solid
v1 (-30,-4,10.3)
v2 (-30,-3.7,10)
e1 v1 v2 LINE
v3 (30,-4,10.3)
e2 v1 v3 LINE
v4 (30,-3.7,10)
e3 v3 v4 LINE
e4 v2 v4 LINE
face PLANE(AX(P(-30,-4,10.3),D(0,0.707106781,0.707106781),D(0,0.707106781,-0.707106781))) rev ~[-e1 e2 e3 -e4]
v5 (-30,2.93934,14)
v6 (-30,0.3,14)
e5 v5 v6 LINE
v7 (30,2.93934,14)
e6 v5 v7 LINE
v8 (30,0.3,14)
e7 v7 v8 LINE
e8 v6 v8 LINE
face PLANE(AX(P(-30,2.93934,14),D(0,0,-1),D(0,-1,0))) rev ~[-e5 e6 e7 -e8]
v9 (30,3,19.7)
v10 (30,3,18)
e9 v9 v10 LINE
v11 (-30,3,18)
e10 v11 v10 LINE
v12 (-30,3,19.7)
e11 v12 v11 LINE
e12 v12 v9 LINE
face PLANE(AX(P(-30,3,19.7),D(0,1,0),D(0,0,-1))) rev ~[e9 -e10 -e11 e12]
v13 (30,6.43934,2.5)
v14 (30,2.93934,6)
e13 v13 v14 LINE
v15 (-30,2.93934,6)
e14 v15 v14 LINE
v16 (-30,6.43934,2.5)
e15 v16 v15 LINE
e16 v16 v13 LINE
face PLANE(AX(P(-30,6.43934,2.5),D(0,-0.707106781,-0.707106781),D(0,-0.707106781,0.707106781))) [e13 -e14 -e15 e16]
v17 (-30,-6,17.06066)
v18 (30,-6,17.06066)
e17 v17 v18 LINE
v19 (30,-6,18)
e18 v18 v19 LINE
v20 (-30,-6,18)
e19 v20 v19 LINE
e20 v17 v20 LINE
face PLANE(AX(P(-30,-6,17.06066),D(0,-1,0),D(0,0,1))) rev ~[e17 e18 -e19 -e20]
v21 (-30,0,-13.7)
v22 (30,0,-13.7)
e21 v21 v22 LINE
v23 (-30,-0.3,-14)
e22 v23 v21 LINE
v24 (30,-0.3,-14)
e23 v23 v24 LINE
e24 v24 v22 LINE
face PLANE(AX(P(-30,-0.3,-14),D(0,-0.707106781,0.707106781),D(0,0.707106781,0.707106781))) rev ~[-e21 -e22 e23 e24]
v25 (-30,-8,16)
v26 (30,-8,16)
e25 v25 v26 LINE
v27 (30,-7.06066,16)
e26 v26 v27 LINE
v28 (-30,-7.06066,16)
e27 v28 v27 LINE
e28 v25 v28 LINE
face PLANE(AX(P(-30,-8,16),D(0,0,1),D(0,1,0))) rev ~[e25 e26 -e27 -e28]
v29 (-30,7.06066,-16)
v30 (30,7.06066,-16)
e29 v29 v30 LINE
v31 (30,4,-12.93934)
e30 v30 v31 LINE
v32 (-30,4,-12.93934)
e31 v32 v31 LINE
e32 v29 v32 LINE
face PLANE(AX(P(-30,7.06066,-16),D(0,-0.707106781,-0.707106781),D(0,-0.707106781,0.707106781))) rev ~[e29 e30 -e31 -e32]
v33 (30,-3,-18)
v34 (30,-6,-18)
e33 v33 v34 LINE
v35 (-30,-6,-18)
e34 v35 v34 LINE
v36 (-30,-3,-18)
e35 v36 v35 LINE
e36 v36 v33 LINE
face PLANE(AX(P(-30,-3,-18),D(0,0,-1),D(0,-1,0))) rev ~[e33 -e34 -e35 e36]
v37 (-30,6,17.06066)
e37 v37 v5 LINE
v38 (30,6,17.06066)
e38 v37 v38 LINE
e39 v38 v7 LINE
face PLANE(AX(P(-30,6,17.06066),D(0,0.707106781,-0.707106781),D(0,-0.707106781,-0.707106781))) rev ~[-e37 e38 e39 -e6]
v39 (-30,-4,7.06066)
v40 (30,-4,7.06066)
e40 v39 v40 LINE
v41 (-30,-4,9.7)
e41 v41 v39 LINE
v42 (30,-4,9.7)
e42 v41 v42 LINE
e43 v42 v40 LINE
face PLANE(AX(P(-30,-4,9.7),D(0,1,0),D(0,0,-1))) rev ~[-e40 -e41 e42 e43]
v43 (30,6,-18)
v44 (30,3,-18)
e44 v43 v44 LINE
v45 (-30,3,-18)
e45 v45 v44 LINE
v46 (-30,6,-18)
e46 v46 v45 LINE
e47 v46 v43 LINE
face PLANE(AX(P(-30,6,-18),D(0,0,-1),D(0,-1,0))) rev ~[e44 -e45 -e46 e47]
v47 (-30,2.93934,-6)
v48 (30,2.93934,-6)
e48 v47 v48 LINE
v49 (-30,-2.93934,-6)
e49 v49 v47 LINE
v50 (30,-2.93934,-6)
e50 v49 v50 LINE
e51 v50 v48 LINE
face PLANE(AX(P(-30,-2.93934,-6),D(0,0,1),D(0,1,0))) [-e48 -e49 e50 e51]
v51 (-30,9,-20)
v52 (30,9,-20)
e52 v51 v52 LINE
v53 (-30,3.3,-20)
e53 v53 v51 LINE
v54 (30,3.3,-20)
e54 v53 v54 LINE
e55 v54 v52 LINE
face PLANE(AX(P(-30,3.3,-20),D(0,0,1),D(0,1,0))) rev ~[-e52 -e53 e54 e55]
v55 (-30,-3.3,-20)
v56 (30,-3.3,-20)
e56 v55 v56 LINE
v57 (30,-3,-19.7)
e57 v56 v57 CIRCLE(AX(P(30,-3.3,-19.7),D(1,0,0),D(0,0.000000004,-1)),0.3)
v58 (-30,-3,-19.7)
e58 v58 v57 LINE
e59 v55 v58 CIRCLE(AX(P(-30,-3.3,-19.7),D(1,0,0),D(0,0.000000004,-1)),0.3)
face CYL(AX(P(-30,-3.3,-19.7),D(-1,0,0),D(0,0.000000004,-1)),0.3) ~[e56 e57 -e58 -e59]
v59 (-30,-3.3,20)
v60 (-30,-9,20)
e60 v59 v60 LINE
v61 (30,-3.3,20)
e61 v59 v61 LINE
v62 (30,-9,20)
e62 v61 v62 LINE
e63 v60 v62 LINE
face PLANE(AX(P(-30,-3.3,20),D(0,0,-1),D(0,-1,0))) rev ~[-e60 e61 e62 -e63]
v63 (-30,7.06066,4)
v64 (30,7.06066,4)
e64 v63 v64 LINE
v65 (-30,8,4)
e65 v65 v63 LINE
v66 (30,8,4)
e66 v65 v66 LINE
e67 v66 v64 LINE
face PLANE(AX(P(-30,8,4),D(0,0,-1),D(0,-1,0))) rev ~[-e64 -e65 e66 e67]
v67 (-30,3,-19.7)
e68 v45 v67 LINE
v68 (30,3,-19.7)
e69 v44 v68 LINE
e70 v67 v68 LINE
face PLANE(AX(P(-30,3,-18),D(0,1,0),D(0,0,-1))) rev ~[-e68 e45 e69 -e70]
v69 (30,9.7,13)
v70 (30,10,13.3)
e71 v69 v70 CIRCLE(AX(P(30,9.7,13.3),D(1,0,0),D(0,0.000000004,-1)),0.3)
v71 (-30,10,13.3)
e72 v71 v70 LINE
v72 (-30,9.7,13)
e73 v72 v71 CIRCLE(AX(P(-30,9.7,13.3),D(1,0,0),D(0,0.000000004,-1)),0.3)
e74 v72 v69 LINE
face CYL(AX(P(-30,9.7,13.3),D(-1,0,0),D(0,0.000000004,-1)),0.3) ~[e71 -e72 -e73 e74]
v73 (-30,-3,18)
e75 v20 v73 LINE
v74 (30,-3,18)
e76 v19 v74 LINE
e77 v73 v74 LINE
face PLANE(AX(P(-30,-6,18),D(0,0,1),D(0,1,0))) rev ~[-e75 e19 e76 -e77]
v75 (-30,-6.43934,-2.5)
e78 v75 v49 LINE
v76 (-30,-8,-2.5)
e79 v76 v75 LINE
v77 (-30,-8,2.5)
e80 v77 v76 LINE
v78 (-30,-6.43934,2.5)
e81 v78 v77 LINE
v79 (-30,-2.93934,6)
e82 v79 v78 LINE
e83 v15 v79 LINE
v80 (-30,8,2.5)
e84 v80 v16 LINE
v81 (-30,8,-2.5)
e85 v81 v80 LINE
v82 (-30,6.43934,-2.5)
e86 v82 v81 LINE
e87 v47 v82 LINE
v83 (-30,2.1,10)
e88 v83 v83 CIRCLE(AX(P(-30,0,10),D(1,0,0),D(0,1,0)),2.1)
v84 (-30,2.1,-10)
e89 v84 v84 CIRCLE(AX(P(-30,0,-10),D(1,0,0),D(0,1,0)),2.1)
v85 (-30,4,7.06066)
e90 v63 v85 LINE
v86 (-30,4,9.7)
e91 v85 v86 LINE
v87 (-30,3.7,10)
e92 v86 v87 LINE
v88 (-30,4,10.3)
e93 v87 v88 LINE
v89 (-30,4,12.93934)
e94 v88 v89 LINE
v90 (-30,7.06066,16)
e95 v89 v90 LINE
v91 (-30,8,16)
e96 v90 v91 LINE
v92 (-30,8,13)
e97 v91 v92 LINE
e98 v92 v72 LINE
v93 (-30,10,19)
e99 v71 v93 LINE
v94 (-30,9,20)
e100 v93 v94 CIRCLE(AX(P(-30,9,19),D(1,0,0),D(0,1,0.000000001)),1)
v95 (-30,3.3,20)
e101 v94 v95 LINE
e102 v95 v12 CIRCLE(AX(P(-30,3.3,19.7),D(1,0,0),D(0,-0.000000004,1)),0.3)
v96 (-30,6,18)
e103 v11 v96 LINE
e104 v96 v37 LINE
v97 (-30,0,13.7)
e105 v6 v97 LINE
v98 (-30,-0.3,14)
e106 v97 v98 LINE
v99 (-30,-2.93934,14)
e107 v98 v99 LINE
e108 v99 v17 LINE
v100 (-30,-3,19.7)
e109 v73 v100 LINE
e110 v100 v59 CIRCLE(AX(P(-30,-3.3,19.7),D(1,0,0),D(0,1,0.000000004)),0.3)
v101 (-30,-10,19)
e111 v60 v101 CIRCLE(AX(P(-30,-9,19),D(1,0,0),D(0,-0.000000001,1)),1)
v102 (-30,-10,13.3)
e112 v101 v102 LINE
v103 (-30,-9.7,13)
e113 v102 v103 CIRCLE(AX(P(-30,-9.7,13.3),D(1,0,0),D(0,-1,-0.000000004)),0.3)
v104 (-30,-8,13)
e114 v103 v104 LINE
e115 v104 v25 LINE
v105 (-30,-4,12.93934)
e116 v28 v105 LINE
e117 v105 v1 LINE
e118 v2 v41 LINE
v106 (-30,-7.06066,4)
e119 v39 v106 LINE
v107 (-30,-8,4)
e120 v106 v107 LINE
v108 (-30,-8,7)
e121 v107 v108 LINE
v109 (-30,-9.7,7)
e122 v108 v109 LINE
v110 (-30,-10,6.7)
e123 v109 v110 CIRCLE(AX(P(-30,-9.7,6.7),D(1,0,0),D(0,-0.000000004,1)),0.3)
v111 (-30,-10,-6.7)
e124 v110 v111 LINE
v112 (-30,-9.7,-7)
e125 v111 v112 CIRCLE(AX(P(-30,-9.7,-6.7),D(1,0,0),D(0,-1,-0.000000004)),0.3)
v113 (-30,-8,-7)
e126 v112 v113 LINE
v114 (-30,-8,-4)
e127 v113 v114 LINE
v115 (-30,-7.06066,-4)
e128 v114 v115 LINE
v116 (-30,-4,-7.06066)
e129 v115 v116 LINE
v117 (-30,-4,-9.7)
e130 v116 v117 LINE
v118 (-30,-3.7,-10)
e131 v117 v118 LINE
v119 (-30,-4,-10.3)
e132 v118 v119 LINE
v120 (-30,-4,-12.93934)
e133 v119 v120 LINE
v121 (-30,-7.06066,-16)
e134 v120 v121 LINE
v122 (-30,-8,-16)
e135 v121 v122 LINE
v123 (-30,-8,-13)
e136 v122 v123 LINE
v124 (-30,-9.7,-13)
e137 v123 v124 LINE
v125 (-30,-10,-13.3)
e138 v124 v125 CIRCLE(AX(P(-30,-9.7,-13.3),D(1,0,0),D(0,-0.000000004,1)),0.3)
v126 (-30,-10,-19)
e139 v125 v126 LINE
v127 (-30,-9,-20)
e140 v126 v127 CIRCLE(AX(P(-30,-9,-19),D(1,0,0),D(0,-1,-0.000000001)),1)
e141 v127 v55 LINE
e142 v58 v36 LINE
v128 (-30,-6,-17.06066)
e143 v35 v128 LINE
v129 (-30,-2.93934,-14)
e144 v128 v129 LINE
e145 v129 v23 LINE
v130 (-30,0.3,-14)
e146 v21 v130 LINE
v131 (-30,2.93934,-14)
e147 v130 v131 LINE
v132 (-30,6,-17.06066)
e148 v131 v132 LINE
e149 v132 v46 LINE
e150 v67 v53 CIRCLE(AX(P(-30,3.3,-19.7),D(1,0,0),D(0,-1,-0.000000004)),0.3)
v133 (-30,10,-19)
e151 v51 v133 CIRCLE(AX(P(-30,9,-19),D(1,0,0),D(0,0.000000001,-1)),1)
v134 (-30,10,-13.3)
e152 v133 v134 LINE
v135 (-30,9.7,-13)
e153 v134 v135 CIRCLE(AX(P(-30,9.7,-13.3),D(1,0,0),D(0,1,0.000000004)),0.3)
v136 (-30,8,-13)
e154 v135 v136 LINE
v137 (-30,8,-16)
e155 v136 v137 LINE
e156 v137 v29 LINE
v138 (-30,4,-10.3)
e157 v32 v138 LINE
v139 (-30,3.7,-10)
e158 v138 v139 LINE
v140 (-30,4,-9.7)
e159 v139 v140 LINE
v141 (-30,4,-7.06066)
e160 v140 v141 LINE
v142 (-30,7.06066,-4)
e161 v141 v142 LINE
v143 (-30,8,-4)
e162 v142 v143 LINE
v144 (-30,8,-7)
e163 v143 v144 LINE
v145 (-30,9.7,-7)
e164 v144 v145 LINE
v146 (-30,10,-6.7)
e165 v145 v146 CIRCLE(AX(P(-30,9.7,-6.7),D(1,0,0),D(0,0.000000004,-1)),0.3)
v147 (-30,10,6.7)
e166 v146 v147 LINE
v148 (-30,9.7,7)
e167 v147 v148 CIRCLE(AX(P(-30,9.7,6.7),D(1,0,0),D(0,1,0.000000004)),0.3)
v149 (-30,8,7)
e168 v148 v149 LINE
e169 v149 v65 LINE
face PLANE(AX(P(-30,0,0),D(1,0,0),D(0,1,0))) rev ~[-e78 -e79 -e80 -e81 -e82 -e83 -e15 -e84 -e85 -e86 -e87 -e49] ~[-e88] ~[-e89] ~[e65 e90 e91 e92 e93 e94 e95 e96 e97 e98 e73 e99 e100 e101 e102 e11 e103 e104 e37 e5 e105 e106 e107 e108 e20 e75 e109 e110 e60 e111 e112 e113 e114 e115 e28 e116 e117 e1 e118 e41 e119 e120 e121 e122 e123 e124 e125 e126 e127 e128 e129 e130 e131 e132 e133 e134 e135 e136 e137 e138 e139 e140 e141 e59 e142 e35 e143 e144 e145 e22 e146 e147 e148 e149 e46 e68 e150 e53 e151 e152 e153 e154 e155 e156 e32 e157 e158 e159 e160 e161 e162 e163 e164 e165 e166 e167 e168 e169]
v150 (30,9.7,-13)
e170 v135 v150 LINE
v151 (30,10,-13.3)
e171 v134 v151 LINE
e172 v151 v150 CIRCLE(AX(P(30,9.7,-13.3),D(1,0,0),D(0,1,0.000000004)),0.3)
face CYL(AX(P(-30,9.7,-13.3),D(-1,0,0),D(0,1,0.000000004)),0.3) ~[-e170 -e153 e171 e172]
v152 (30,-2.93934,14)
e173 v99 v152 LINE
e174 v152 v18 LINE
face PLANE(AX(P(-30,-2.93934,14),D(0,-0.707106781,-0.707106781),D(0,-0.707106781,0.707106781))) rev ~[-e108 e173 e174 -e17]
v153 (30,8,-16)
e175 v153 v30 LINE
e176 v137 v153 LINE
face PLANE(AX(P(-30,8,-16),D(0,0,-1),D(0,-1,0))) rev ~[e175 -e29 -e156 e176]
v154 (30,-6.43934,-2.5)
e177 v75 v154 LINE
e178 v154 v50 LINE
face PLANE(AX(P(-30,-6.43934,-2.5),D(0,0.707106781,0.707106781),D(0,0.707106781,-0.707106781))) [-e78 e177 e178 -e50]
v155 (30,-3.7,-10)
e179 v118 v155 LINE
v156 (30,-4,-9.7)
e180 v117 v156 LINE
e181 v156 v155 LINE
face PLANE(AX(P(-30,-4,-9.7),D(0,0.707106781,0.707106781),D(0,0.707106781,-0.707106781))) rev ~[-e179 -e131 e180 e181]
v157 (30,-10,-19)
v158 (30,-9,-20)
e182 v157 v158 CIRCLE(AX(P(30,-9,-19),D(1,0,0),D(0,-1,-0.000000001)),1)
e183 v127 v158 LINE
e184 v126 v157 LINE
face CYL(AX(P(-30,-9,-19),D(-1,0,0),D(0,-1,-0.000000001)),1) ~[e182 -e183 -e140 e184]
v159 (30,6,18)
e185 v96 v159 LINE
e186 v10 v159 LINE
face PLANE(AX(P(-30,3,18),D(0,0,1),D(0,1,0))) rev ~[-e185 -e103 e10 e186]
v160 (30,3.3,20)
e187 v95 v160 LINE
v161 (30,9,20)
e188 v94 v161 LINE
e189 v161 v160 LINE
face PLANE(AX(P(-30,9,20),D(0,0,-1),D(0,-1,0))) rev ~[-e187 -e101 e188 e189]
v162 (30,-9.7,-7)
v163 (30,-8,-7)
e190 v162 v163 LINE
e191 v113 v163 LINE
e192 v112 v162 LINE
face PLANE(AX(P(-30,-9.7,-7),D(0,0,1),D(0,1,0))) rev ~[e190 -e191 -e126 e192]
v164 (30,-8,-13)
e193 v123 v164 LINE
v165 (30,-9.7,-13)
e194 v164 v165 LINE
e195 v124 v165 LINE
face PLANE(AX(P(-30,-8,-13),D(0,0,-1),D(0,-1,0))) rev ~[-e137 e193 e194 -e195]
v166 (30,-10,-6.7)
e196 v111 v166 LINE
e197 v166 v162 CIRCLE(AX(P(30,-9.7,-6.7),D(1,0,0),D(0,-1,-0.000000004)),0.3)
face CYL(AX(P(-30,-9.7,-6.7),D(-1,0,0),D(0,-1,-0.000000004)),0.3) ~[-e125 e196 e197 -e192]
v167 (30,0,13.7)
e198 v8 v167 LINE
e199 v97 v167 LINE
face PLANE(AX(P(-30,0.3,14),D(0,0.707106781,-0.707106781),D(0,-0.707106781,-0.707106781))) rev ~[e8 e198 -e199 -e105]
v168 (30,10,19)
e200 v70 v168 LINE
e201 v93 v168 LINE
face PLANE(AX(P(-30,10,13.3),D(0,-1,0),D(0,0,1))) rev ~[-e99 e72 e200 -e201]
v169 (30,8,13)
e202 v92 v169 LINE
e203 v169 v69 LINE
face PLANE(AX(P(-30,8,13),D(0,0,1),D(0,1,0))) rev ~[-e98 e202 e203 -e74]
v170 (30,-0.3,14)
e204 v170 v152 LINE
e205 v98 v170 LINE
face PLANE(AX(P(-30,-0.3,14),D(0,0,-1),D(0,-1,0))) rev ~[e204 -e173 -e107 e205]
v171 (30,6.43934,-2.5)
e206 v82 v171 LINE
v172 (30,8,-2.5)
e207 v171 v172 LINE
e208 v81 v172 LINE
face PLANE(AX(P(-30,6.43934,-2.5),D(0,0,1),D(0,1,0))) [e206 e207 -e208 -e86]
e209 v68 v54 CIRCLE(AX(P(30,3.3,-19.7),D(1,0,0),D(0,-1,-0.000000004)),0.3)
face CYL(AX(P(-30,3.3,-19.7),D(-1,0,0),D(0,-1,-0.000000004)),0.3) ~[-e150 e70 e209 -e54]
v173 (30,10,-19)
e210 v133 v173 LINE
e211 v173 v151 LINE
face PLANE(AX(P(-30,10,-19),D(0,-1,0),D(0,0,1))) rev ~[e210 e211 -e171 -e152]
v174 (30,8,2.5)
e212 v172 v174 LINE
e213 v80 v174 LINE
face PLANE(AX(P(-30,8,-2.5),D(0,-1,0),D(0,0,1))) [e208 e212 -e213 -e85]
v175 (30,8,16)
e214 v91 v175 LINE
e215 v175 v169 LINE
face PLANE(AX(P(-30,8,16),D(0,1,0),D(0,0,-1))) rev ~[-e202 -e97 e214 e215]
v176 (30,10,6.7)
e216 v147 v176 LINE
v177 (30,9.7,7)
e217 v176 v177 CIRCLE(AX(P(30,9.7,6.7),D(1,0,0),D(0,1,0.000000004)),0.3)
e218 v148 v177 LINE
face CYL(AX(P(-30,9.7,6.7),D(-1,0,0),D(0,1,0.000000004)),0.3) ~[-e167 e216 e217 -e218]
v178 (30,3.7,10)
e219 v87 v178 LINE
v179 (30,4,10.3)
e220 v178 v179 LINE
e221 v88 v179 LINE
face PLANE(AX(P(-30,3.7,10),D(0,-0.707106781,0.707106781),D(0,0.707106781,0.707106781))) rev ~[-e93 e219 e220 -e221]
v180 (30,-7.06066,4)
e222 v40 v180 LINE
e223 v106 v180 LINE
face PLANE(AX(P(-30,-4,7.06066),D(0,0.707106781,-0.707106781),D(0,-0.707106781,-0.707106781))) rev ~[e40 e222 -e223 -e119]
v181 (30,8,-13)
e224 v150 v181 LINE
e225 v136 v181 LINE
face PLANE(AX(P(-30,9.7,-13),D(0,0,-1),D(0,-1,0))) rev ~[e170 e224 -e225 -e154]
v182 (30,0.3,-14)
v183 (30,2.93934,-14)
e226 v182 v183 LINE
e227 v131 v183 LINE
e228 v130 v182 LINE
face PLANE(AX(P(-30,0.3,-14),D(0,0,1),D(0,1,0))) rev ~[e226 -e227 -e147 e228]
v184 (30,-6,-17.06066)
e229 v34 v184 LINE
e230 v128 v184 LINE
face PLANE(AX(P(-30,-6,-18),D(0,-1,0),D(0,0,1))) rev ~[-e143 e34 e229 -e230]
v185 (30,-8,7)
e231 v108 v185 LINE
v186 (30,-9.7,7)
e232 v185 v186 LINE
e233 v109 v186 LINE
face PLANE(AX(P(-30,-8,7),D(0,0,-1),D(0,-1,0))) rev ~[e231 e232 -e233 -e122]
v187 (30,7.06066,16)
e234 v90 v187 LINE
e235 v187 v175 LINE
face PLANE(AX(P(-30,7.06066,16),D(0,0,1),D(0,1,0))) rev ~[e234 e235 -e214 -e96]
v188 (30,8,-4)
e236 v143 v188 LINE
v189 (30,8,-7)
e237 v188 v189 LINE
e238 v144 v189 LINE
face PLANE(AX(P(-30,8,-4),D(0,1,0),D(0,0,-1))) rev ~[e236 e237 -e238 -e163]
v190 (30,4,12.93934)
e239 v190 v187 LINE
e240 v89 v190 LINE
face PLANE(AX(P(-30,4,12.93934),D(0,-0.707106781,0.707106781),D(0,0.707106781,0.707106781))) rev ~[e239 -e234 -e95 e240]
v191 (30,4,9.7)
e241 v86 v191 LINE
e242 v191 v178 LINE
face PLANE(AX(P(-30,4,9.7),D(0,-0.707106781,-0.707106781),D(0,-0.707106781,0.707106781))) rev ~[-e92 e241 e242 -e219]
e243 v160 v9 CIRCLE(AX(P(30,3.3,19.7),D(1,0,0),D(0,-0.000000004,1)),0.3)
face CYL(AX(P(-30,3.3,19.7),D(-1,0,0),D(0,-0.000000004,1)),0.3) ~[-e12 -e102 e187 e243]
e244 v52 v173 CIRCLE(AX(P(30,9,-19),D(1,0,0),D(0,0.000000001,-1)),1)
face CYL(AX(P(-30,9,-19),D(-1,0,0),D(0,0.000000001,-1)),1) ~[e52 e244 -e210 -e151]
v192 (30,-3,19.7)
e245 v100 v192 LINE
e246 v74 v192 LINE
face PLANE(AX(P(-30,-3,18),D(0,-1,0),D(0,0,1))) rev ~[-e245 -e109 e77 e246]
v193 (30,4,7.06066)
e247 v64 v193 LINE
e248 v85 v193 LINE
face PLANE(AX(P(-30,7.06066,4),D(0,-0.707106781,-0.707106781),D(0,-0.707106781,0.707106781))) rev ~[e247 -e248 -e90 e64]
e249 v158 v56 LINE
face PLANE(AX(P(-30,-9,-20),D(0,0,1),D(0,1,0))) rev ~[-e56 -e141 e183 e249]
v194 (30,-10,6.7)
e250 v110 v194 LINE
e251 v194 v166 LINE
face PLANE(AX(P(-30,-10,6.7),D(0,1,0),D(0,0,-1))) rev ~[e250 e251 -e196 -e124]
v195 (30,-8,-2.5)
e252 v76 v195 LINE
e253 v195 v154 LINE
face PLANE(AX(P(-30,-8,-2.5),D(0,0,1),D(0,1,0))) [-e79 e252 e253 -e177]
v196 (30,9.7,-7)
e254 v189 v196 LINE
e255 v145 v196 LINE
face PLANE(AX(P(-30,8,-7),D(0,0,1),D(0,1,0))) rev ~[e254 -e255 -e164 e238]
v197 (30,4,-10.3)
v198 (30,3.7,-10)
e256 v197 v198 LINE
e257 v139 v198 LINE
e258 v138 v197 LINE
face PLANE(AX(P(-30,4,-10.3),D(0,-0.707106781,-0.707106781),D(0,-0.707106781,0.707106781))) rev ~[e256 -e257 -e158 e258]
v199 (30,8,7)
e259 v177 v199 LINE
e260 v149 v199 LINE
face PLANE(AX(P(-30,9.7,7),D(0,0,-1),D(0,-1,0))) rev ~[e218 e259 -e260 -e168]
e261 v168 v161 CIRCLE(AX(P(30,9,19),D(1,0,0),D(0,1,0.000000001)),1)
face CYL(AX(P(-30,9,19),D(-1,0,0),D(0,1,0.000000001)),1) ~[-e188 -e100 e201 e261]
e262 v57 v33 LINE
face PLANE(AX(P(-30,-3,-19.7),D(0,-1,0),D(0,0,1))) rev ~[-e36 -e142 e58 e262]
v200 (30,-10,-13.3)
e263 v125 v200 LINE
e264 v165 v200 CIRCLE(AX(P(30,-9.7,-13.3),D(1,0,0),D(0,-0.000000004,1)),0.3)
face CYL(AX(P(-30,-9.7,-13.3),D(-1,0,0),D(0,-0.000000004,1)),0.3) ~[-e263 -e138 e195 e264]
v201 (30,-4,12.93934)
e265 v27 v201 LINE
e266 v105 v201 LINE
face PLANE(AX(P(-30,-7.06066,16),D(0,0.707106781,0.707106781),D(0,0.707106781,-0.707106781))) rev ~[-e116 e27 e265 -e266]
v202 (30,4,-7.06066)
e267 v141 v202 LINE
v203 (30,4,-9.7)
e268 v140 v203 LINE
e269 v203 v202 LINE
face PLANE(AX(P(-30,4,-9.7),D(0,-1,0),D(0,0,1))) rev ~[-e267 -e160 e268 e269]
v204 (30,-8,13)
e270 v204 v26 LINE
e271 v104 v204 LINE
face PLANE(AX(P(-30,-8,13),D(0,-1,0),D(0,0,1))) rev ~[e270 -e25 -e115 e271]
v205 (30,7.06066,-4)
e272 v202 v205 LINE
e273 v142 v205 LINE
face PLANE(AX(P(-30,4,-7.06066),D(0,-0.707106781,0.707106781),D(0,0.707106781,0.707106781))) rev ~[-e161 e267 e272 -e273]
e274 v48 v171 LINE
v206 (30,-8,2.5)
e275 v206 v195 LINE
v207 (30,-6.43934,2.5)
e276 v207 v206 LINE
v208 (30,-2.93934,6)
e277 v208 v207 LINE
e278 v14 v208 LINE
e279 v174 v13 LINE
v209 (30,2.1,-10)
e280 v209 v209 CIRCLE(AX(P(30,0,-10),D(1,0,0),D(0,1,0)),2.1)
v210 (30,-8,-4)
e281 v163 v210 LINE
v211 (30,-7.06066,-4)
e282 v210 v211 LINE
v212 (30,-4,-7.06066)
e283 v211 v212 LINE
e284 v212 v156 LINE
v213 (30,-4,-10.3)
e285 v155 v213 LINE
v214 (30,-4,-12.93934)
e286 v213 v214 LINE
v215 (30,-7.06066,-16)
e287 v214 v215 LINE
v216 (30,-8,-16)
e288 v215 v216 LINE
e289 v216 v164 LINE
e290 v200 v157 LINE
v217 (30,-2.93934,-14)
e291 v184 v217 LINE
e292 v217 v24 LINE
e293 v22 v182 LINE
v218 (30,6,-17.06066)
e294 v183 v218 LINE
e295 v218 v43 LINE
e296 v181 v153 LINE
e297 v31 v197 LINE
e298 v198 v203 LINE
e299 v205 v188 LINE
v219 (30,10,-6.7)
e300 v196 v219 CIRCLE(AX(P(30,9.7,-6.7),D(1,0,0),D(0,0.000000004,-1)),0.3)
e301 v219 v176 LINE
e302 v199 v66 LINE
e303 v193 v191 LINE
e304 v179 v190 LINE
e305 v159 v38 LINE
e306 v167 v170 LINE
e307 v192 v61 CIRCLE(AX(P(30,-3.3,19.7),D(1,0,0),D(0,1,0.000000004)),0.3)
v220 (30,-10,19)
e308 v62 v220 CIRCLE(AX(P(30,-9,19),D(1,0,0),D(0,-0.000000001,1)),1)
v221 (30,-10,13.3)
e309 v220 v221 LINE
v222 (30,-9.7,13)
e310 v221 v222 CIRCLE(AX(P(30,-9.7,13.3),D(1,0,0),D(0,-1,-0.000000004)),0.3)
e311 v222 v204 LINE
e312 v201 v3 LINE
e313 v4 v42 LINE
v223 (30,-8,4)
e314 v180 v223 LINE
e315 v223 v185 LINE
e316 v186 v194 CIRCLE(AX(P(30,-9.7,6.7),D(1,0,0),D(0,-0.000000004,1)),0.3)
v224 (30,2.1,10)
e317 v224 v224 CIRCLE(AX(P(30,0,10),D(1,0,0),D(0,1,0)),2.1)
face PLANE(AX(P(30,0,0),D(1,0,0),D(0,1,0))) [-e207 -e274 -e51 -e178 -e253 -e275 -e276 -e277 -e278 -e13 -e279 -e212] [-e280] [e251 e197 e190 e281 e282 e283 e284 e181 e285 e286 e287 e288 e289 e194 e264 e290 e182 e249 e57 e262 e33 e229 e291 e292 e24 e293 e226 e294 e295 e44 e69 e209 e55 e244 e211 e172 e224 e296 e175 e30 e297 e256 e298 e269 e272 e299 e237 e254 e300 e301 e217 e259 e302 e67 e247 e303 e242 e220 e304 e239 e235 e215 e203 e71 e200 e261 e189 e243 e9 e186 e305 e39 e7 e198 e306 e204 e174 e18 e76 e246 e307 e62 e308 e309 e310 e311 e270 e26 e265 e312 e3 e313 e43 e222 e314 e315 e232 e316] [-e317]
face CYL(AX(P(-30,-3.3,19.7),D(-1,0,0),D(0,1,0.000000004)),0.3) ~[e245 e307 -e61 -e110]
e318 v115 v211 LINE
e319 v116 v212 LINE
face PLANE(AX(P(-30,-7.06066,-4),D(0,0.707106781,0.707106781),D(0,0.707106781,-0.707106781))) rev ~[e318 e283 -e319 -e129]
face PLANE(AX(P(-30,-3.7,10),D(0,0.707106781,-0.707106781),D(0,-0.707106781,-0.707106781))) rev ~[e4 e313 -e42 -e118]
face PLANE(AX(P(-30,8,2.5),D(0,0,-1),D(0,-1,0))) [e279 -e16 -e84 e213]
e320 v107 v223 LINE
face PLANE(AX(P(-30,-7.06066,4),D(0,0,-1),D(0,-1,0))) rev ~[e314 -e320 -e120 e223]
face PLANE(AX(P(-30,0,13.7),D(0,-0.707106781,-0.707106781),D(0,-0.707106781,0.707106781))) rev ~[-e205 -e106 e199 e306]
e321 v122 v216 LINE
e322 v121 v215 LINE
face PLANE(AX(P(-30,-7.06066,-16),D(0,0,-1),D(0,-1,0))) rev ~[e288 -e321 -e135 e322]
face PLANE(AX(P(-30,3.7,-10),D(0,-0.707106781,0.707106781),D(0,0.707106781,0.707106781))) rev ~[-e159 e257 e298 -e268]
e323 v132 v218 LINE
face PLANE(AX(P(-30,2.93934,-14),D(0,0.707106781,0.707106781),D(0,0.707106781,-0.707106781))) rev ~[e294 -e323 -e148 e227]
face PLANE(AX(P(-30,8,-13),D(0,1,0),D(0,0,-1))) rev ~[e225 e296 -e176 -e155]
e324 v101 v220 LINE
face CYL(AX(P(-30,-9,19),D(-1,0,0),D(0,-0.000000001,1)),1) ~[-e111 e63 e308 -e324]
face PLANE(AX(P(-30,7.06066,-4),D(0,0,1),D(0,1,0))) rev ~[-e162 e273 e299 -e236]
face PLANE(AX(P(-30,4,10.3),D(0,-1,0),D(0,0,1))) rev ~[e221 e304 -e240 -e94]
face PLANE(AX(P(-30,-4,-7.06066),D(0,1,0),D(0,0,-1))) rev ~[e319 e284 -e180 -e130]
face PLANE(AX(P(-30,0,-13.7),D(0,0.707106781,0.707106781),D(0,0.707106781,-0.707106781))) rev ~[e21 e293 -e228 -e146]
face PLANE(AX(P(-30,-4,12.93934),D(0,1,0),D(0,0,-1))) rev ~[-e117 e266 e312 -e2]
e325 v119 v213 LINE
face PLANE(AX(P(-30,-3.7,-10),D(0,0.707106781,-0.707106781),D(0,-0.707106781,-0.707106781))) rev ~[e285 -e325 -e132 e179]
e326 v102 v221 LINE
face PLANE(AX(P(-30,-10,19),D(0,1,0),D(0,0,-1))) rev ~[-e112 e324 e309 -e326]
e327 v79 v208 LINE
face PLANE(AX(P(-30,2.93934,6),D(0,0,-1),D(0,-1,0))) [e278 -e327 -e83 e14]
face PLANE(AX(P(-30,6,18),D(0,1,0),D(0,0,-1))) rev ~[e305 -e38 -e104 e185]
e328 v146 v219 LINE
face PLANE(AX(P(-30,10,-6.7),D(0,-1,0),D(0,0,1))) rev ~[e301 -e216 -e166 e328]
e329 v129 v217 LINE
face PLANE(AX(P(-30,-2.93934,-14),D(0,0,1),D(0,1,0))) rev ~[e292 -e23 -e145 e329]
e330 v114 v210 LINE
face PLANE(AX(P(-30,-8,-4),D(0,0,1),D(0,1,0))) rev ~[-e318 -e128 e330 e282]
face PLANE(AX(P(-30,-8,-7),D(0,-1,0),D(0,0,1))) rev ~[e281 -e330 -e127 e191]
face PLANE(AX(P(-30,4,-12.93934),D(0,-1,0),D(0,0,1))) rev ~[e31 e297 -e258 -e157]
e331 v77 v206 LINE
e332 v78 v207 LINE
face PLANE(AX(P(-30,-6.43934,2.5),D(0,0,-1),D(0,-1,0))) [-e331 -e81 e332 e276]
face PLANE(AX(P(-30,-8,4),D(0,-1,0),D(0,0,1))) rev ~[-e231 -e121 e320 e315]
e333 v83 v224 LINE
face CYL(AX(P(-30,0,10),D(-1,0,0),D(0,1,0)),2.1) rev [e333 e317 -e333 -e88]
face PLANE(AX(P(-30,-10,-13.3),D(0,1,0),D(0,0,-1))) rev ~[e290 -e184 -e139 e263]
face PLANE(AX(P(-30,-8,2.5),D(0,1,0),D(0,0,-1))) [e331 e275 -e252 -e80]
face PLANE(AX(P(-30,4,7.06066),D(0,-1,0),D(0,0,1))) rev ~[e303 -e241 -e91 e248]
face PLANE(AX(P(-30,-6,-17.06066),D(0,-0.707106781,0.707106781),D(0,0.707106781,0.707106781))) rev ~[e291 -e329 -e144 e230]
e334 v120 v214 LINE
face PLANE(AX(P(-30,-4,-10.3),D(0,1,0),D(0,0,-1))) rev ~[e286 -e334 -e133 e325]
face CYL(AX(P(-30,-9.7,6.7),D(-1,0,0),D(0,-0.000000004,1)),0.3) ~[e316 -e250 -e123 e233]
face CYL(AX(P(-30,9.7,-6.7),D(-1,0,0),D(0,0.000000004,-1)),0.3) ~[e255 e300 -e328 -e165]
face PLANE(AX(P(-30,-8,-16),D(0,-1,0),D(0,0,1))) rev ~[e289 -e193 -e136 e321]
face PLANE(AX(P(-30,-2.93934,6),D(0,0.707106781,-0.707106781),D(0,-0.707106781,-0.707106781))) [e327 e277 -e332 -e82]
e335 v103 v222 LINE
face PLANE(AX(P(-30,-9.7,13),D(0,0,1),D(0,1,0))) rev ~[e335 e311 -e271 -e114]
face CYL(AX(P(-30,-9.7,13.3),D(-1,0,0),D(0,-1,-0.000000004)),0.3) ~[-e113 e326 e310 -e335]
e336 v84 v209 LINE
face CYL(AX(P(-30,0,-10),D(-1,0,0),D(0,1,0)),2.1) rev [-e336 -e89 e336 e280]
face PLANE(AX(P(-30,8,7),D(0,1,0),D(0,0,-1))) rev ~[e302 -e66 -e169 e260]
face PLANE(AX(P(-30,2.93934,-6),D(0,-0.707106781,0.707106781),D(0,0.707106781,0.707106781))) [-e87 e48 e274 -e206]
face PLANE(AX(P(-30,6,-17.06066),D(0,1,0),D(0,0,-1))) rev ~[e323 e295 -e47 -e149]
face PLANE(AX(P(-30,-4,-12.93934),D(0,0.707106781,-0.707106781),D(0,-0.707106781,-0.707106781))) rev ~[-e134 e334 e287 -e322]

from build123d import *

# Parameters (mm, degrees)
SKETCH11_R               = 2.1
STRUCTURAL_MEMBER1_DEPTH = 60


with BuildPart() as part:
    # Sketch11 → Structural Member1 (new body)
    with BuildSketch(Plane.YZ.offset(-30)):
        with BuildLine():
            Line((-9, -20), (-3.3, -20))
            ThreePointArc((-3.3, -20), (-3.087867966, -19.912132034), (-3, -19.7))
            Line((-3, -19.7), (-3, -18))
            Line((-3, -18), (-6, -18))
            Line((-6, -18), (-6, -17.060660172))
            Line((-6, -17.060660172), (-2.939339828, -14))
            Line((-2.939339828, -14), (-0.3, -14))
            Line((-0.3, -14), (0, -13.7))
            Line((0, -13.7), (0.3, -14))
            Line((0.3, -14), (2.939339828, -14))
            Line((2.939339828, -14), (6, -17.060660172))
            Line((6, -17.060660172), (6, -18))
            Line((6, -18), (3, -18))
            Line((3, -18), (3, -19.7))
            ThreePointArc((3, -19.7), (3.087867966, -19.912132034), (3.3, -20))
            Line((3.3, -20), (9, -20))
            ThreePointArc((9, -20), (9.707106781, -19.707106781), (10, -19))
            Line((10, -19), (10, -13.3))
            ThreePointArc((10, -13.3), (9.912132034, -13.087867966), (9.7, -13))
            Line((9.7, -13), (8, -13))
            Line((8, -13), (8, -16))
            Line((8, -16), (7.060660172, -16))
            Line((7.060660172, -16), (4, -12.939339828))
            Line((4, -12.939339828), (4, -10.3))
            Line((4, -10.3), (3.7, -10))
            Line((3.7, -10), (4, -9.7))
            Line((4, -9.7), (4, -7.060660172))
            Line((4, -7.060660172), (7.060660172, -4))
            Line((7.060660172, -4), (8, -4))
            Line((8, -4), (8, -7))
            Line((8, -7), (9.7, -7))
            ThreePointArc((9.7, -7), (9.912132034, -6.912132034), (10, -6.7))
            Line((10, -6.7), (10, 6.7))
            ThreePointArc((10, 6.7), (9.912132034, 6.912132034), (9.7, 7))
            Line((9.7, 7), (8, 7))
            Line((8, 7), (8, 4))
            Line((8, 4), (7.060660172, 4))
            Line((7.060660172, 4), (4, 7.060660172))
            Line((4, 7.060660172), (4, 9.7))
            Line((4, 9.7), (3.7, 10))
            Line((3.7, 10), (4, 10.3))
            Line((4, 10.3), (4, 12.939339828))
            Line((4, 12.939339828), (7.060660172, 16))
            Line((7.060660172, 16), (8, 16))
            Line((8, 16), (8, 13))
            Line((8, 13), (9.7, 13))
            ThreePointArc((9.7, 13), (9.912132034, 13.087867966), (10, 13.3))
            Line((10, 13.3), (10, 19))
            ThreePointArc((10, 19), (9.707106781, 19.707106781), (9, 20))
            Line((9, 20), (3.3, 20))
            ThreePointArc((3.3, 20), (3.087867966, 19.912132034), (3, 19.7))
            Line((3, 19.7), (3, 18))
            Line((3, 18), (6, 18))
            Line((6, 18), (6, 17.060660172))
            Line((6, 17.060660172), (2.939339828, 14))
            Line((2.939339828, 14), (0.3, 14))
            Line((0.3, 14), (0, 13.7))
            Line((0, 13.7), (-0.3, 14))
            Line((-0.3, 14), (-2.939339828, 14))
            Line((-2.939339828, 14), (-6, 17.060660172))
            Line((-6, 17.060660172), (-6, 18))
            Line((-6, 18), (-3, 18))
            Line((-3, 18), (-3, 19.7))
            ThreePointArc((-3, 19.7), (-3.087867966, 19.912132034), (-3.3, 20))
            Line((-3.3, 20), (-9, 20))
            ThreePointArc((-9, 20), (-9.707106781, 19.707106781), (-10, 19))
            Line((-10, 19), (-10, 13.3))
            ThreePointArc((-10, 13.3), (-9.912132034, 13.087867966), (-9.7, 13))
            Line((-9.7, 13), (-8, 13))
            Line((-8, 13), (-8, 16))
            Line((-8, 16), (-7.060660172, 16))
            Line((-7.060660172, 16), (-4, 12.939339828))
            Line((-4, 12.939339828), (-4, 10.3))
            Line((-4, 10.3), (-3.7, 10))
            Line((-3.7, 10), (-4, 9.7))
            Line((-4, 9.7), (-4, 7.060660172))
            Line((-4, 7.060660172), (-7.060660172, 4))
            Line((-7.060660172, 4), (-8, 4))
            Line((-8, 4), (-8, 7))
            Line((-8, 7), (-9.7, 7))
            ThreePointArc((-9.7, 7), (-9.912132034, 6.912132034), (-10, 6.7))
            Line((-10, 6.7), (-10, -6.7))
            ThreePointArc((-10, -6.7), (-9.912132034, -6.912132034), (-9.7, -7))
            Line((-9.7, -7), (-8, -7))
            Line((-8, -7), (-8, -4))
            Line((-8, -4), (-7.060660172, -4))
            Line((-7.060660172, -4), (-4, -7.060660172))
            Line((-4, -7.060660172), (-4, -9.7))
            Line((-4, -9.7), (-3.7, -10))
            Line((-3.7, -10), (-4, -10.3))
            Line((-4, -10.3), (-4, -12.939339828))
            Line((-4, -12.939339828), (-7.060660172, -16))
            Line((-7.060660172, -16), (-8, -16))
            Line((-8, -16), (-8, -13))
            Line((-8, -13), (-9.7, -13))
            ThreePointArc((-9.7, -13), (-9.912132034, -13.087867966), (-10, -13.3))
            Line((-10, -13.3), (-10, -19))
            ThreePointArc((-10, -19), (-9.707106781, -19.707106781), (-9, -20))
        make_face()
        with Locations((0, 10)):
            Circle(SKETCH11_R, mode=Mode.SUBTRACT)
        with Locations((0, -10)):
            Circle(SKETCH11_R, mode=Mode.SUBTRACT)
        Polygon((-8, -2.5), (-6.439339828, -2.5), (-2.939339828, -6), (2.939339828, -6), (6.439339828, -2.5), (8, -2.5), (8, 2.5), (6.439339828, 2.5), (2.939339828, 6), (-2.939339828, 6), (-6.439339828, 2.5), (-8, 2.5), align=None, mode=Mode.SUBTRACT)
    extrude(amount=STRUCTURAL_MEMBER1_DEPTH)


solid = part.part
